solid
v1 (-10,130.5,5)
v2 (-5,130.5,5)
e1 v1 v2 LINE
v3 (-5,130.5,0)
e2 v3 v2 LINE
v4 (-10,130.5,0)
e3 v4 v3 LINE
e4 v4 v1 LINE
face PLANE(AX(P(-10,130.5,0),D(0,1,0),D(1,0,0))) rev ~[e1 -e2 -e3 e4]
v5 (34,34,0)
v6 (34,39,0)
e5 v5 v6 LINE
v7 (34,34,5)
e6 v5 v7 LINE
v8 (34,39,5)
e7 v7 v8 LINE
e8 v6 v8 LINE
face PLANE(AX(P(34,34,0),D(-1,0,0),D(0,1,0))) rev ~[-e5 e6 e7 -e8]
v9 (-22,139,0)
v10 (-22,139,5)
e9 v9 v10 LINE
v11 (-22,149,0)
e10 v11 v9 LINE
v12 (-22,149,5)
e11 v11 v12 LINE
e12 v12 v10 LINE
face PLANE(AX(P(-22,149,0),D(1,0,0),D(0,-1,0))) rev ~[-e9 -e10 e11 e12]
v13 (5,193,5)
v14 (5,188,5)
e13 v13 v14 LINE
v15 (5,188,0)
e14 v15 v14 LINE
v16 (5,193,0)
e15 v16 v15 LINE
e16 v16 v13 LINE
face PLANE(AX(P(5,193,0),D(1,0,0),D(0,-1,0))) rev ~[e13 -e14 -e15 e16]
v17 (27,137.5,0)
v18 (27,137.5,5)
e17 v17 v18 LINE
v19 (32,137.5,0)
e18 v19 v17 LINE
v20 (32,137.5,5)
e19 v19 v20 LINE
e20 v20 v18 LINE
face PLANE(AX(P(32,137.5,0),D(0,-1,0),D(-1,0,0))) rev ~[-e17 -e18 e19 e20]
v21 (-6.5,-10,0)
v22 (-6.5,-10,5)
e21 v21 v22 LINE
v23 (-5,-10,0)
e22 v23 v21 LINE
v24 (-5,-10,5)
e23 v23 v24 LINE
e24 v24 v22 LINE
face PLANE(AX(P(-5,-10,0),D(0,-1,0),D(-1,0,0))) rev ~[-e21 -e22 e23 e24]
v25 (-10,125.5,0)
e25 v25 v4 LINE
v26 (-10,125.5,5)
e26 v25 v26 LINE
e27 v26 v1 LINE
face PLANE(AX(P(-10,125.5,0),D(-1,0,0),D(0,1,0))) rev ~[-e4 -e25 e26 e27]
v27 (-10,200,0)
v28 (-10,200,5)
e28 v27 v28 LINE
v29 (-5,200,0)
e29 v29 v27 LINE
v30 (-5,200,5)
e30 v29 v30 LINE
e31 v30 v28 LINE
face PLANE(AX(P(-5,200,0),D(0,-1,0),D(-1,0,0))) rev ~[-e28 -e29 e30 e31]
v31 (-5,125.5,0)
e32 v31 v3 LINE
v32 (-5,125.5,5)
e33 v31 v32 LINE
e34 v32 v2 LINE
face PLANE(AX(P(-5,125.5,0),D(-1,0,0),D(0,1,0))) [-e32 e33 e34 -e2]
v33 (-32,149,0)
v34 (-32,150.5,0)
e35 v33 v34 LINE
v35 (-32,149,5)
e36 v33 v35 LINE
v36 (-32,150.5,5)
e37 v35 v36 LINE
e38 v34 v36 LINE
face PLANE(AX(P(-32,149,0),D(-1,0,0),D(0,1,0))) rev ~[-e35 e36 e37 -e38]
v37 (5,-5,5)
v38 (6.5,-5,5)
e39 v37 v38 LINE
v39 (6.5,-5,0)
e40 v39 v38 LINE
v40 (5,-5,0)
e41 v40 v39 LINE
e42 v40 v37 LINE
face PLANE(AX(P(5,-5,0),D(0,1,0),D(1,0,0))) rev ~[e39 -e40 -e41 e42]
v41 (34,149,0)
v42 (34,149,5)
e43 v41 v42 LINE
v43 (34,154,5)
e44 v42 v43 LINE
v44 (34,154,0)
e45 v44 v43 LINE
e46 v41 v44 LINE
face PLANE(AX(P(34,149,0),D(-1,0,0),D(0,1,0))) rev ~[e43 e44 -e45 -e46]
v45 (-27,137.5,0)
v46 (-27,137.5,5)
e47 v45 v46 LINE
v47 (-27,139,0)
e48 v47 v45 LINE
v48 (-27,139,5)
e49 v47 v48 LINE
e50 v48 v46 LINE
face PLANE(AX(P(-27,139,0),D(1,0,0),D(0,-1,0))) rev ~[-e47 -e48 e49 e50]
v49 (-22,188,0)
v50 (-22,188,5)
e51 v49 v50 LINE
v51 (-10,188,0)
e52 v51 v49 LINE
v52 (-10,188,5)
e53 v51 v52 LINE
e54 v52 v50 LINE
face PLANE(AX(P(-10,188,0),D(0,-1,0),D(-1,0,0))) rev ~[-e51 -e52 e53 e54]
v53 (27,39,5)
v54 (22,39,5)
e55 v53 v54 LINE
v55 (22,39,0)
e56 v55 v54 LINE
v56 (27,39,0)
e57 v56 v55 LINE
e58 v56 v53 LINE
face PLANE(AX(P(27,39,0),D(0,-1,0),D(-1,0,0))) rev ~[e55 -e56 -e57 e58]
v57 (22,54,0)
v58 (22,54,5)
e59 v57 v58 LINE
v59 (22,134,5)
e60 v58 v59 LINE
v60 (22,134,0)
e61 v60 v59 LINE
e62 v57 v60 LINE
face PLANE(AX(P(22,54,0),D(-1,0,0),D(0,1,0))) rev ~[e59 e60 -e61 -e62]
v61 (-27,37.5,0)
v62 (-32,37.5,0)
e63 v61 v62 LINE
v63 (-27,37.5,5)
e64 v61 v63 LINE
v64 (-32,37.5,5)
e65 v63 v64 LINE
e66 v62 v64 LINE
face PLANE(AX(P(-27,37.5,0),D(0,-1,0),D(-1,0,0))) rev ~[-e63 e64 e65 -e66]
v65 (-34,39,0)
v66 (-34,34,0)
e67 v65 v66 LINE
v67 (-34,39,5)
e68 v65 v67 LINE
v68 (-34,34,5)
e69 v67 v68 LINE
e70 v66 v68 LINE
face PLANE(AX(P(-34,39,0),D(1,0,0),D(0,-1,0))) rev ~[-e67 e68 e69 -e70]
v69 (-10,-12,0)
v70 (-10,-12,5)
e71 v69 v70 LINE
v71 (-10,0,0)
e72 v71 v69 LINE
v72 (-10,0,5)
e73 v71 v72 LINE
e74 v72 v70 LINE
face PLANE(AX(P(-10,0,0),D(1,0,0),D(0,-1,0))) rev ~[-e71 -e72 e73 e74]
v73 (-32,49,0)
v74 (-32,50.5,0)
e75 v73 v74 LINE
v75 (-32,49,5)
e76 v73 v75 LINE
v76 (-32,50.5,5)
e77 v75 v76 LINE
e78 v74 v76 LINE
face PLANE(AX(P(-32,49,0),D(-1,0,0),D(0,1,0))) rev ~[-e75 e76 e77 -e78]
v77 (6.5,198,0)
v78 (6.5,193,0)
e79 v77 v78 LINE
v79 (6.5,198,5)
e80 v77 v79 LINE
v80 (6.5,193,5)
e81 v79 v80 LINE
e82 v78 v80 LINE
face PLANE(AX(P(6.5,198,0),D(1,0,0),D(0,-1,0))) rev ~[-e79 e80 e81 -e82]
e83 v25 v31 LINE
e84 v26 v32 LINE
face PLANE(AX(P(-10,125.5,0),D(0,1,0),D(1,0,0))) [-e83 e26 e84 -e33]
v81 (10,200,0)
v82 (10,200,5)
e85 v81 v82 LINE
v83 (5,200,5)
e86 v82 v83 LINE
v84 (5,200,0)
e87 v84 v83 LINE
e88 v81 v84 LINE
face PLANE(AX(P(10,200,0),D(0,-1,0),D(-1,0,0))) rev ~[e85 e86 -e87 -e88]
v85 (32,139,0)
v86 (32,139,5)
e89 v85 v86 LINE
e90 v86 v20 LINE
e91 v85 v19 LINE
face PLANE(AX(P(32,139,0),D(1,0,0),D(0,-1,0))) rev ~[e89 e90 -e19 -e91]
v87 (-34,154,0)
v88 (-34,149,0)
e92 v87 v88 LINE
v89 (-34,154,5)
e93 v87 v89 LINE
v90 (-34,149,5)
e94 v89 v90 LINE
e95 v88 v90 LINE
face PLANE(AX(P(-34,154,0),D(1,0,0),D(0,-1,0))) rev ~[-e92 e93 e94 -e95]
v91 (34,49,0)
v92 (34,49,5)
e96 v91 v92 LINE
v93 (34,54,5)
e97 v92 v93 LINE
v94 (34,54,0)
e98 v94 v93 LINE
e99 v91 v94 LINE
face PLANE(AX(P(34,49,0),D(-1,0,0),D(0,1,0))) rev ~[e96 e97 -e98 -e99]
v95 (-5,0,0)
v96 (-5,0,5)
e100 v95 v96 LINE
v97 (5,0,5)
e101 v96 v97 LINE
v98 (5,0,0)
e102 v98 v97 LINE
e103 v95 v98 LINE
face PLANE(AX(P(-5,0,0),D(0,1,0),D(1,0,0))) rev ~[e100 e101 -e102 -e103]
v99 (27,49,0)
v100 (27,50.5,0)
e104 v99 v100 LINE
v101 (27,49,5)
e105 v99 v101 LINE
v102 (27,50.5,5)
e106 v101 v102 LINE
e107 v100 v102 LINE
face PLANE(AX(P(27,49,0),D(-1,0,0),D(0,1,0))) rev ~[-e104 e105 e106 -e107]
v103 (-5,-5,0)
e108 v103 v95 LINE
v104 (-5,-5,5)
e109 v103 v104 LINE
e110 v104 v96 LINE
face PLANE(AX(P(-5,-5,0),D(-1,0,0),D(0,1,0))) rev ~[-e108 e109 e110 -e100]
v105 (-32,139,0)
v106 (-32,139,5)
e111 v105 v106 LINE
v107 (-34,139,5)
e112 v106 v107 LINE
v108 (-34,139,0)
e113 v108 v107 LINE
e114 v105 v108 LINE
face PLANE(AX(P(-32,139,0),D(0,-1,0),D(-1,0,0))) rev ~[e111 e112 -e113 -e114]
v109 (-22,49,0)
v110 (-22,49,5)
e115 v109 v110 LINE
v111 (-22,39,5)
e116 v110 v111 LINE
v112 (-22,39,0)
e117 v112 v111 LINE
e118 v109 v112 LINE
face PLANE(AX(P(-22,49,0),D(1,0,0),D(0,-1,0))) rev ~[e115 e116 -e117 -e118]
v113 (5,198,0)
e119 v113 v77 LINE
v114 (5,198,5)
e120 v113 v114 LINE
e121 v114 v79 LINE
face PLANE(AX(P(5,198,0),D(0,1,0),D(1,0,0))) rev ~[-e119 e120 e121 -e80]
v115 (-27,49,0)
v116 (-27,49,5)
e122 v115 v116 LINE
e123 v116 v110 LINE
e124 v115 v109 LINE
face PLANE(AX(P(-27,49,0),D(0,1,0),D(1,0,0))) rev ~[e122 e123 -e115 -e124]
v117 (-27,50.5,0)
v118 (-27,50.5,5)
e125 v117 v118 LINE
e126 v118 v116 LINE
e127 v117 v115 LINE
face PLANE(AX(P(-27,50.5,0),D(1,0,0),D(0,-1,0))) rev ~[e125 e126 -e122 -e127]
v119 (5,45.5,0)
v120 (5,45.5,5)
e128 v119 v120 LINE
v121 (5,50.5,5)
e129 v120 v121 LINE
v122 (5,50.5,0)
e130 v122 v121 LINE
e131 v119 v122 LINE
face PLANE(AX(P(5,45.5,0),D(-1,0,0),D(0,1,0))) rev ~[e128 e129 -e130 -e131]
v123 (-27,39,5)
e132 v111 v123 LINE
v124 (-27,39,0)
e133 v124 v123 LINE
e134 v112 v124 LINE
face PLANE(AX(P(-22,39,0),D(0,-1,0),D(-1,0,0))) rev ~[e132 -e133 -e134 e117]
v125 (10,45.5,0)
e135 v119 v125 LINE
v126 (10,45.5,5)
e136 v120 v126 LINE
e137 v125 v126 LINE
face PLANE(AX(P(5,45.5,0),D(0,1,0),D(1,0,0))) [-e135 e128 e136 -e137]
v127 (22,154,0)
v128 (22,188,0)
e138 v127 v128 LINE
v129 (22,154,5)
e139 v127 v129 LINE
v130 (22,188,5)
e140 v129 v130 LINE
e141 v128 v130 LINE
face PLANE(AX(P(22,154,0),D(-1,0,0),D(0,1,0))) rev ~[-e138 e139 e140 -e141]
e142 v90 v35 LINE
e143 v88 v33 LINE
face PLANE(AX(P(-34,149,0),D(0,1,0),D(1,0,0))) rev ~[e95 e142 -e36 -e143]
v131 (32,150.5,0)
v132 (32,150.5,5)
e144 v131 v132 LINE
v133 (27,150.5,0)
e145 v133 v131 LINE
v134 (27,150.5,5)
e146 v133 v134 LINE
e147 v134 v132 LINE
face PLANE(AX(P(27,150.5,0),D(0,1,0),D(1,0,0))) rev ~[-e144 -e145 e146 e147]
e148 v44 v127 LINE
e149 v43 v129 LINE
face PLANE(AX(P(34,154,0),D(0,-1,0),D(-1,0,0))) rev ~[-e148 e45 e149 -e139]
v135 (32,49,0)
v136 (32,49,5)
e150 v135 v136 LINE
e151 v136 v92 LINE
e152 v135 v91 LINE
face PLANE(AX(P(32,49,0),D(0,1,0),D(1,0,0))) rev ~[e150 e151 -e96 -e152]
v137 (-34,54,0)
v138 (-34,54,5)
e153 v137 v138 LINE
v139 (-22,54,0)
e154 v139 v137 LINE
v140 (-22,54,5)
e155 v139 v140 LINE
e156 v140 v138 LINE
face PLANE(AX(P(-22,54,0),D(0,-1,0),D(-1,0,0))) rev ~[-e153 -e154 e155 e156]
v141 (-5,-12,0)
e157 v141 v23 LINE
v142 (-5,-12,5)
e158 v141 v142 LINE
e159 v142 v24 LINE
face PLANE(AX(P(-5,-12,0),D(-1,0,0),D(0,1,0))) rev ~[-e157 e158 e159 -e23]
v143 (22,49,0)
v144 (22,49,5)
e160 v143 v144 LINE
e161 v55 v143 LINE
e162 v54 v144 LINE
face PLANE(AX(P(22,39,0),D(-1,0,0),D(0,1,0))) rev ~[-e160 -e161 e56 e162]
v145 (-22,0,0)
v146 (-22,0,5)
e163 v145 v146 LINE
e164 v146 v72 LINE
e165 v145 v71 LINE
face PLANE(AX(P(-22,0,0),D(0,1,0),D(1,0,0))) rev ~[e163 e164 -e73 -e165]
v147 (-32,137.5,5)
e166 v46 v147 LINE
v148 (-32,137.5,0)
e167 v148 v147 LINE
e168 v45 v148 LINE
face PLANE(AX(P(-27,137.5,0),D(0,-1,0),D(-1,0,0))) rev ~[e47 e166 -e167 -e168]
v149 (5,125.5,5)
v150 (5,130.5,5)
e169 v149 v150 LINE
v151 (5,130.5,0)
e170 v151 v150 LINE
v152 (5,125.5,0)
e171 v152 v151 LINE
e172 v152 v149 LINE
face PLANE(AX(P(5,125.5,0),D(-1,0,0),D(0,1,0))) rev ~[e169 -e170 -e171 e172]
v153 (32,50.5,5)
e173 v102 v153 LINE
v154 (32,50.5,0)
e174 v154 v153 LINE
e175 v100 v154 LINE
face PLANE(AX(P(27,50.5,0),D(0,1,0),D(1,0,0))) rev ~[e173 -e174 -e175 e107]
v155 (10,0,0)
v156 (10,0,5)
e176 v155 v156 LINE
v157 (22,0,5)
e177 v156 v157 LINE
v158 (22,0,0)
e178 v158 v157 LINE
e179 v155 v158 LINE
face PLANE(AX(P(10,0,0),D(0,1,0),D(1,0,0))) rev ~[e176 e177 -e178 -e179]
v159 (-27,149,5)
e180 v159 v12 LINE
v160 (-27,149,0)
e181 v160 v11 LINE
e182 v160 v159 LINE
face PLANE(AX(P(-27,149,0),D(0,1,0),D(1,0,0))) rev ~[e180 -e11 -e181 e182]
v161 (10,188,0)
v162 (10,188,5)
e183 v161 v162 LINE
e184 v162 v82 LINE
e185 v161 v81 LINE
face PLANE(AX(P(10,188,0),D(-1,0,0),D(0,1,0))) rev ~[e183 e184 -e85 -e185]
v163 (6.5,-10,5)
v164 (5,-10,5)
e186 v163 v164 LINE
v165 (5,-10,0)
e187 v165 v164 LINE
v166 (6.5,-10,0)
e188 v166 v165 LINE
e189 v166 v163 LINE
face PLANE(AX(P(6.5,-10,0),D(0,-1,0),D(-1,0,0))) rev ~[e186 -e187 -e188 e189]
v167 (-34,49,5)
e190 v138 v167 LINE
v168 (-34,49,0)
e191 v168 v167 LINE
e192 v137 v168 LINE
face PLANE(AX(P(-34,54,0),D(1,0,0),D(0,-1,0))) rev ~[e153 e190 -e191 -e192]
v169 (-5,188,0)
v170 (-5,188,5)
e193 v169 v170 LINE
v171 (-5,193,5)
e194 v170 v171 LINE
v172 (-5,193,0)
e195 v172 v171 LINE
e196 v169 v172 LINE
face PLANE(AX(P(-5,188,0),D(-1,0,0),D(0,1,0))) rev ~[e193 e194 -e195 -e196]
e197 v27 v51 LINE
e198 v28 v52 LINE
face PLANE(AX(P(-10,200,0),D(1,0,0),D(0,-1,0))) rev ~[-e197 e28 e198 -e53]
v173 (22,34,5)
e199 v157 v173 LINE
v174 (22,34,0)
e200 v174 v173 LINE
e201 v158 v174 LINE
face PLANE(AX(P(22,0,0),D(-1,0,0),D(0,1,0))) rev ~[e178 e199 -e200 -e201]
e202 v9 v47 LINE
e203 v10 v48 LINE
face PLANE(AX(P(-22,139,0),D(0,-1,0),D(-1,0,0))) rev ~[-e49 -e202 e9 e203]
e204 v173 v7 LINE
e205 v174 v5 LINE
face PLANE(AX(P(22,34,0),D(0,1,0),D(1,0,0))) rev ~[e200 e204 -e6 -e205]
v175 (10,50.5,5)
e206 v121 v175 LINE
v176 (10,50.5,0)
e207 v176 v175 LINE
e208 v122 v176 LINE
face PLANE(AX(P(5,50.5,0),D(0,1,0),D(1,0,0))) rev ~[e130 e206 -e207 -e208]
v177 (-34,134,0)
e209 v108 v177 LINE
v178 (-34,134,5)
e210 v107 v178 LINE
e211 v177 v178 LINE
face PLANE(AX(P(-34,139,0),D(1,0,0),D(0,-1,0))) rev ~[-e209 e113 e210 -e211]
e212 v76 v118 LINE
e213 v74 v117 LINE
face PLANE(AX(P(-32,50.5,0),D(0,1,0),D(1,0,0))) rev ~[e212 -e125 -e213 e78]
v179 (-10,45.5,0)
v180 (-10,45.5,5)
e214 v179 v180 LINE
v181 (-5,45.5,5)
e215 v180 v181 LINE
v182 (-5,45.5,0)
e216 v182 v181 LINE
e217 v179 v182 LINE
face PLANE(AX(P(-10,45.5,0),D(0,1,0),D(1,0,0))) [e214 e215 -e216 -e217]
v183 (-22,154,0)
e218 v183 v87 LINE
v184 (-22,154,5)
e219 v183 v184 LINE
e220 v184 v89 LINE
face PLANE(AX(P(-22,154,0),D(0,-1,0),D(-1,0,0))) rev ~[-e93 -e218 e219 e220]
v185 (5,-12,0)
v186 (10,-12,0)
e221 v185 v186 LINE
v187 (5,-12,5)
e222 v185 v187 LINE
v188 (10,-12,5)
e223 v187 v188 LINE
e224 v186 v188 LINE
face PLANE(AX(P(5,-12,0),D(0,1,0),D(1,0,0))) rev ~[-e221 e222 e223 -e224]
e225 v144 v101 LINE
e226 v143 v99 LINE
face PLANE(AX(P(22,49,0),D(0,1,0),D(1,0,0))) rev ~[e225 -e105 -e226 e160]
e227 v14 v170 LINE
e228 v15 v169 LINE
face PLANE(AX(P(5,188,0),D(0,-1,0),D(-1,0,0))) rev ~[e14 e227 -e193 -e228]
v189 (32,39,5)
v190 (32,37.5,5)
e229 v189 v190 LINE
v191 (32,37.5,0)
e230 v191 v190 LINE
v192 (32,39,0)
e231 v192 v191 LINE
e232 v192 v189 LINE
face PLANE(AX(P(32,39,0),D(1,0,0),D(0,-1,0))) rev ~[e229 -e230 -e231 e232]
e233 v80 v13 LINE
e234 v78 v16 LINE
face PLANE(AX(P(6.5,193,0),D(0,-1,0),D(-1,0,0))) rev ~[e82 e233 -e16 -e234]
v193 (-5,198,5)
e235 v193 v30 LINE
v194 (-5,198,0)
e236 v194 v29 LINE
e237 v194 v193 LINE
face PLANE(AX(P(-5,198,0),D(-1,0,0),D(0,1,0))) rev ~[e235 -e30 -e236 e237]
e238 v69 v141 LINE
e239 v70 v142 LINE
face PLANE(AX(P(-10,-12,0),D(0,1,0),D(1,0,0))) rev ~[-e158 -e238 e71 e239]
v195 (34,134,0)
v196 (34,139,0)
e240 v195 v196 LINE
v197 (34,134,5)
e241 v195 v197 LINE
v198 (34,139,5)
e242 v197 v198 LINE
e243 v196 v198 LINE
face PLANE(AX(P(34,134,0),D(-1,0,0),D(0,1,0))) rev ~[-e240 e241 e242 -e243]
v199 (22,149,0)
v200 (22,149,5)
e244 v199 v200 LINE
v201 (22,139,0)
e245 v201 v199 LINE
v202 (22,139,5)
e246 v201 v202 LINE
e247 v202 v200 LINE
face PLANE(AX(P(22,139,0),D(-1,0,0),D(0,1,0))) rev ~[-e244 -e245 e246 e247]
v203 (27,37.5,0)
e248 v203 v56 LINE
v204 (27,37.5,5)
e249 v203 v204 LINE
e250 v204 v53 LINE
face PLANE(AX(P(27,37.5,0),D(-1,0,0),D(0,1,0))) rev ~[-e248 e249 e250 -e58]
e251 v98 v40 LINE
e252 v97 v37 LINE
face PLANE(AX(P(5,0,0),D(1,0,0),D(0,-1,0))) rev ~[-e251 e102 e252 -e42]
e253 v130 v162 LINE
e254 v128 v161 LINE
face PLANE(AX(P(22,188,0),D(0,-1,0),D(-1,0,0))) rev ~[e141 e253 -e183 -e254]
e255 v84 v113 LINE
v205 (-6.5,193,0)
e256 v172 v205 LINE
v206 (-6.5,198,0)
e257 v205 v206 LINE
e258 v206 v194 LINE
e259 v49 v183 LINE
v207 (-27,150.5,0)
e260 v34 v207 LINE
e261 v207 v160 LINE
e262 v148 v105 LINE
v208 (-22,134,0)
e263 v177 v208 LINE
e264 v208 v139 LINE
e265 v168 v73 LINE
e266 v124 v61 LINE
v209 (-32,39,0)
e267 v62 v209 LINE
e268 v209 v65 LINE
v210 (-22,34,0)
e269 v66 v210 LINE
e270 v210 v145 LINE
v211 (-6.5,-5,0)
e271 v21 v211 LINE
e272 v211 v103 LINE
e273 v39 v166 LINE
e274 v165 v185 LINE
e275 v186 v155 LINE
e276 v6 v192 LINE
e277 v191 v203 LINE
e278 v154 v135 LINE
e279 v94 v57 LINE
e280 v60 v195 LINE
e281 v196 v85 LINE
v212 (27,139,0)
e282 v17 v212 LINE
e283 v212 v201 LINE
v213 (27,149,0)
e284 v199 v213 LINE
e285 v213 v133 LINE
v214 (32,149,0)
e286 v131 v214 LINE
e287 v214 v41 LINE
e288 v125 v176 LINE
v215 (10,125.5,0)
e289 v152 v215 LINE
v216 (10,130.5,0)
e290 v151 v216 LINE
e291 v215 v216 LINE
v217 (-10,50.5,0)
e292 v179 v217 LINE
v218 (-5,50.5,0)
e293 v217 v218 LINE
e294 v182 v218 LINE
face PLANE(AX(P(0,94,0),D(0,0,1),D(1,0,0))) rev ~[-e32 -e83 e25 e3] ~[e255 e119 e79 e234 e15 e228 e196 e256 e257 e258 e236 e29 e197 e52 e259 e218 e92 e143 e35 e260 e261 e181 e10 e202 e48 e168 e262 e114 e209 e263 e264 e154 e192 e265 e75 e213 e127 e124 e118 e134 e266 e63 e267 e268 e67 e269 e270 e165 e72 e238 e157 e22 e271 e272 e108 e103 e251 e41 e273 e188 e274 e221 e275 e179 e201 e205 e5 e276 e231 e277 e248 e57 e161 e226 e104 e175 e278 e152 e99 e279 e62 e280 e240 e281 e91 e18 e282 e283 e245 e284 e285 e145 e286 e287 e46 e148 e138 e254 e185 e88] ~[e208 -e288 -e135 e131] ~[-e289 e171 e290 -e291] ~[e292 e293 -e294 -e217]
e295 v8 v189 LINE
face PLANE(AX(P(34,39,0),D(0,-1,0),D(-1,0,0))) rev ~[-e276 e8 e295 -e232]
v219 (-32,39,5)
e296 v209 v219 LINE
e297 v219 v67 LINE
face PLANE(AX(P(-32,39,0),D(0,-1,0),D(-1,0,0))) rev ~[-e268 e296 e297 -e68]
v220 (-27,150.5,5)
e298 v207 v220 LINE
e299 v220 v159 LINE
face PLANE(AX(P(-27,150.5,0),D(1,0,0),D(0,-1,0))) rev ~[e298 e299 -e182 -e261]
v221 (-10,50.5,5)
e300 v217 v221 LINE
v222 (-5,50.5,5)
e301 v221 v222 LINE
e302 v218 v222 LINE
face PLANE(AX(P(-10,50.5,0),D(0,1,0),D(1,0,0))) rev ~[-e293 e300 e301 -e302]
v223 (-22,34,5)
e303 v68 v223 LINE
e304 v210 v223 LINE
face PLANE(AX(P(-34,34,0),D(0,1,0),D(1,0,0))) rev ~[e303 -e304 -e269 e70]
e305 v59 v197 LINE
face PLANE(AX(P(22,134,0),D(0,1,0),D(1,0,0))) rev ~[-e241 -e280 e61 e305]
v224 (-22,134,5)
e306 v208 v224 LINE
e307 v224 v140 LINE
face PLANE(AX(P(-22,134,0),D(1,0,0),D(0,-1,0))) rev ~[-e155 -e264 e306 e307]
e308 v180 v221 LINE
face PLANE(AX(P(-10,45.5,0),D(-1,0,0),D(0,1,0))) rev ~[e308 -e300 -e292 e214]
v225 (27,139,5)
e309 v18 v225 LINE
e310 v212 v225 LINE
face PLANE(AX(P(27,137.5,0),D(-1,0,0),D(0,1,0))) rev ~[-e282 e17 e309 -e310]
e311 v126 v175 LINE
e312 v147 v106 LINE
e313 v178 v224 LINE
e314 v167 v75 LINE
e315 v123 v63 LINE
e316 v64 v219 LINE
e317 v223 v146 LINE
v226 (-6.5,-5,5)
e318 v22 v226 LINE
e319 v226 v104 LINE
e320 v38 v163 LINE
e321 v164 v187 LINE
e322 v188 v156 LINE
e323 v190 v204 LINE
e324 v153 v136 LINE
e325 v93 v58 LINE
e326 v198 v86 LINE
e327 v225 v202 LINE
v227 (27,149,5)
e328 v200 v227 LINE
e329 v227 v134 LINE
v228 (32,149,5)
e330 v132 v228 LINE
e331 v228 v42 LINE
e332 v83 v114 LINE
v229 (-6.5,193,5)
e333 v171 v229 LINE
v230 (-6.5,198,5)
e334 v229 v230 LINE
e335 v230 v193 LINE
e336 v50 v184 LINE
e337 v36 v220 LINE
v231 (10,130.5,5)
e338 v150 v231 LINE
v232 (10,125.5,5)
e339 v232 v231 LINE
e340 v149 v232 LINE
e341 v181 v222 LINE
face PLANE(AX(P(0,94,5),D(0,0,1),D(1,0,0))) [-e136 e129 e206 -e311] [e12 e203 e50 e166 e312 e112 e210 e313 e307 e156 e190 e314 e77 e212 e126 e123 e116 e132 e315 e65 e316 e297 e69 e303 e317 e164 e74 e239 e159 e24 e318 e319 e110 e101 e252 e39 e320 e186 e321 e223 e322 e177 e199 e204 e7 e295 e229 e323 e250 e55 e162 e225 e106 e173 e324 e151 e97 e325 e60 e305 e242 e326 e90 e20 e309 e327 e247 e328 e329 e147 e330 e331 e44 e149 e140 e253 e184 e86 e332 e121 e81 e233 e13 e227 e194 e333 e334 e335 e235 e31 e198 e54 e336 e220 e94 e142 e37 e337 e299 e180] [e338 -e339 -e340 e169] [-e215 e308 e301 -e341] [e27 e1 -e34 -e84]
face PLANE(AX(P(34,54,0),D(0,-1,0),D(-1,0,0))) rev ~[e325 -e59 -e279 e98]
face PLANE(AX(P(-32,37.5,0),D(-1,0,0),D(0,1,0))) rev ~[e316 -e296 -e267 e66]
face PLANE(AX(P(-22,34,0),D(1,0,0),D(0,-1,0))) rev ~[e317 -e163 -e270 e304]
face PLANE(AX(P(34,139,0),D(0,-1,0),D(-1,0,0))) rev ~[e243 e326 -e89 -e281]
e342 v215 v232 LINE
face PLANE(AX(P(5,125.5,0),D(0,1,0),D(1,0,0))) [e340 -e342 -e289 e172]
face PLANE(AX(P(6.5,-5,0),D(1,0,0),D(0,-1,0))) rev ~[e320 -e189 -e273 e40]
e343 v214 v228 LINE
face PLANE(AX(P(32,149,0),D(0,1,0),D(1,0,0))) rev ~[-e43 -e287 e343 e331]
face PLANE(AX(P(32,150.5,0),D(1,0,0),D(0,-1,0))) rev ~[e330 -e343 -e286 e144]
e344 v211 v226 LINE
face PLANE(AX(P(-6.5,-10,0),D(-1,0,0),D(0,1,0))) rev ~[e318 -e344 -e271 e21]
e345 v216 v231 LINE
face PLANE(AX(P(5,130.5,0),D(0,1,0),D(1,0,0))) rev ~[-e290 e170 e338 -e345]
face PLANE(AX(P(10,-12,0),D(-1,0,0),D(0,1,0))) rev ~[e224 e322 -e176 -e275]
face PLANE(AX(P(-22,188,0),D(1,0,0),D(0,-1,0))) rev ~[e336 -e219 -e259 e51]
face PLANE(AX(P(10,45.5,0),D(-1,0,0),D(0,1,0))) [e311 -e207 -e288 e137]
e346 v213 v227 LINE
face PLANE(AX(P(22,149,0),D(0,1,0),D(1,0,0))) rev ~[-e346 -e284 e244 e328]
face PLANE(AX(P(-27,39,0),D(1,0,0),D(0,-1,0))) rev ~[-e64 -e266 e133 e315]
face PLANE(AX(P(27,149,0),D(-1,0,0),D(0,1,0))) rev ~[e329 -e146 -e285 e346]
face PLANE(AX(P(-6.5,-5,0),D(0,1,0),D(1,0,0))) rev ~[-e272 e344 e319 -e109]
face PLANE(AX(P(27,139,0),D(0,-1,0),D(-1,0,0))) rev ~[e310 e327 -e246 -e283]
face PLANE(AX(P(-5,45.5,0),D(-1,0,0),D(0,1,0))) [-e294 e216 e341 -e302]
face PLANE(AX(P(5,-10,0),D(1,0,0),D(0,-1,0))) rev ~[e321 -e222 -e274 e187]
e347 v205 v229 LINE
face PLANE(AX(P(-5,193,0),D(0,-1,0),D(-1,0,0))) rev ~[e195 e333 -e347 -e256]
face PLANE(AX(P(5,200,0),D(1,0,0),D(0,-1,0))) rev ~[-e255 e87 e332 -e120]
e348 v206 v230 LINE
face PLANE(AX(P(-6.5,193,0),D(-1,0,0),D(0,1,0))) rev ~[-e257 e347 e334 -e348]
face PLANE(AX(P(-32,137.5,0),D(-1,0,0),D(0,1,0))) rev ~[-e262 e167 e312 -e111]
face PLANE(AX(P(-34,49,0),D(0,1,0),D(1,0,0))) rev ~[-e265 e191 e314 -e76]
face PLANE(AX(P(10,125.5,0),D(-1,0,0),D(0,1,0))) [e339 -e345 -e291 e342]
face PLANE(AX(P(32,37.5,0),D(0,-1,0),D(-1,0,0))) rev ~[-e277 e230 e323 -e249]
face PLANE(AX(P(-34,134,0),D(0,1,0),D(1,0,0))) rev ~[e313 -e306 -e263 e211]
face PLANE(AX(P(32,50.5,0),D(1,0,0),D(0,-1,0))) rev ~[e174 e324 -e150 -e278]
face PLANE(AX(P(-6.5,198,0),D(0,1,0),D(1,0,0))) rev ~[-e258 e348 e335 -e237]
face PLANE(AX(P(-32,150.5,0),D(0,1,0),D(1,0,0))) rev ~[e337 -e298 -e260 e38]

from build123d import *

# Parameters (mm, degrees)
ESQUISSE1_W        = 5
ESQUISSE1_H        = 5
BOSS_EXTRU_1_DEPTH = 5


with BuildPart() as part:
    # Esquisse1 → Boss.-Extru.1 (new body)
    with BuildSketch(Plane.XY):
        Polygon((-10, 188), (-22, 188), (-22, 154), (-34, 154), (-34, 149), (-32, 149), (-32, 150.5), (-27, 150.5), (-27, 149), (-22, 149), (-22, 139), (-27, 139), (-27, 137.5), (-32, 137.5), (-32, 139), (-34, 139), (-34, 134), (-22, 134), (-22, 54), (-34, 54), (-34, 49), (-32, 49), (-32, 50.5), (-27, 50.5), (-27, 49), (-22, 49), (-22, 39), (-27, 39), (-27, 37.5), (-32, 37.5), (-32, 39), (-34, 39), (-34, 34), (-22, 34), (-22, 0), (-10, 0), (-10, -12), (-5, -12), (-5, -10), (-6.5, -10), (-6.5, -5), (-5, -5), (-5, 0), (5, 0), (5, -5), (6.5, -5), (6.5, -10), (5, -10), (5, -12), (10, -12), (10, 0), (22, 0), (22, 34), (34, 34), (34, 39), (32, 39), (32, 37.5), (27, 37.5), (27, 39), (22, 39), (22, 49), (27, 49), (27, 50.5), (32, 50.5), (32, 49), (34, 49), (34, 54), (22, 54), (22, 134), (34, 134), (34, 139), (32, 139), (32, 137.5), (27, 137.5), (27, 139), (22, 139), (22, 149), (27, 149), (27, 150.5), (32, 150.5), (32, 149), (34, 149), (34, 154), (22, 154), (22, 188), (10, 188), (10, 200), (5, 200), (5, 198), (6.5, 198), (6.5, 193), (5, 193), (5, 188), (-5, 188), (-5, 193), (-6.5, 193), (-6.5, 198), (-5, 198), (-5, 200), (-10, 200), align=None)
        with Locations((-7.5, 48)):
            Rectangle(ESQUISSE1_W, ESQUISSE1_H, mode=Mode.SUBTRACT)
        with Locations((7.5, 48)):
            Rectangle(ESQUISSE1_W, ESQUISSE1_H, mode=Mode.SUBTRACT)
        with Locations((-7.5, 128)):
            Rectangle(ESQUISSE1_W, ESQUISSE1_H, mode=Mode.SUBTRACT)
        with Locations((7.5, 128)):
            Rectangle(ESQUISSE1_W, ESQUISSE1_H, mode=Mode.SUBTRACT)
    extrude(amount=BOSS_EXTRU_1_DEPTH)


solid = part.part
